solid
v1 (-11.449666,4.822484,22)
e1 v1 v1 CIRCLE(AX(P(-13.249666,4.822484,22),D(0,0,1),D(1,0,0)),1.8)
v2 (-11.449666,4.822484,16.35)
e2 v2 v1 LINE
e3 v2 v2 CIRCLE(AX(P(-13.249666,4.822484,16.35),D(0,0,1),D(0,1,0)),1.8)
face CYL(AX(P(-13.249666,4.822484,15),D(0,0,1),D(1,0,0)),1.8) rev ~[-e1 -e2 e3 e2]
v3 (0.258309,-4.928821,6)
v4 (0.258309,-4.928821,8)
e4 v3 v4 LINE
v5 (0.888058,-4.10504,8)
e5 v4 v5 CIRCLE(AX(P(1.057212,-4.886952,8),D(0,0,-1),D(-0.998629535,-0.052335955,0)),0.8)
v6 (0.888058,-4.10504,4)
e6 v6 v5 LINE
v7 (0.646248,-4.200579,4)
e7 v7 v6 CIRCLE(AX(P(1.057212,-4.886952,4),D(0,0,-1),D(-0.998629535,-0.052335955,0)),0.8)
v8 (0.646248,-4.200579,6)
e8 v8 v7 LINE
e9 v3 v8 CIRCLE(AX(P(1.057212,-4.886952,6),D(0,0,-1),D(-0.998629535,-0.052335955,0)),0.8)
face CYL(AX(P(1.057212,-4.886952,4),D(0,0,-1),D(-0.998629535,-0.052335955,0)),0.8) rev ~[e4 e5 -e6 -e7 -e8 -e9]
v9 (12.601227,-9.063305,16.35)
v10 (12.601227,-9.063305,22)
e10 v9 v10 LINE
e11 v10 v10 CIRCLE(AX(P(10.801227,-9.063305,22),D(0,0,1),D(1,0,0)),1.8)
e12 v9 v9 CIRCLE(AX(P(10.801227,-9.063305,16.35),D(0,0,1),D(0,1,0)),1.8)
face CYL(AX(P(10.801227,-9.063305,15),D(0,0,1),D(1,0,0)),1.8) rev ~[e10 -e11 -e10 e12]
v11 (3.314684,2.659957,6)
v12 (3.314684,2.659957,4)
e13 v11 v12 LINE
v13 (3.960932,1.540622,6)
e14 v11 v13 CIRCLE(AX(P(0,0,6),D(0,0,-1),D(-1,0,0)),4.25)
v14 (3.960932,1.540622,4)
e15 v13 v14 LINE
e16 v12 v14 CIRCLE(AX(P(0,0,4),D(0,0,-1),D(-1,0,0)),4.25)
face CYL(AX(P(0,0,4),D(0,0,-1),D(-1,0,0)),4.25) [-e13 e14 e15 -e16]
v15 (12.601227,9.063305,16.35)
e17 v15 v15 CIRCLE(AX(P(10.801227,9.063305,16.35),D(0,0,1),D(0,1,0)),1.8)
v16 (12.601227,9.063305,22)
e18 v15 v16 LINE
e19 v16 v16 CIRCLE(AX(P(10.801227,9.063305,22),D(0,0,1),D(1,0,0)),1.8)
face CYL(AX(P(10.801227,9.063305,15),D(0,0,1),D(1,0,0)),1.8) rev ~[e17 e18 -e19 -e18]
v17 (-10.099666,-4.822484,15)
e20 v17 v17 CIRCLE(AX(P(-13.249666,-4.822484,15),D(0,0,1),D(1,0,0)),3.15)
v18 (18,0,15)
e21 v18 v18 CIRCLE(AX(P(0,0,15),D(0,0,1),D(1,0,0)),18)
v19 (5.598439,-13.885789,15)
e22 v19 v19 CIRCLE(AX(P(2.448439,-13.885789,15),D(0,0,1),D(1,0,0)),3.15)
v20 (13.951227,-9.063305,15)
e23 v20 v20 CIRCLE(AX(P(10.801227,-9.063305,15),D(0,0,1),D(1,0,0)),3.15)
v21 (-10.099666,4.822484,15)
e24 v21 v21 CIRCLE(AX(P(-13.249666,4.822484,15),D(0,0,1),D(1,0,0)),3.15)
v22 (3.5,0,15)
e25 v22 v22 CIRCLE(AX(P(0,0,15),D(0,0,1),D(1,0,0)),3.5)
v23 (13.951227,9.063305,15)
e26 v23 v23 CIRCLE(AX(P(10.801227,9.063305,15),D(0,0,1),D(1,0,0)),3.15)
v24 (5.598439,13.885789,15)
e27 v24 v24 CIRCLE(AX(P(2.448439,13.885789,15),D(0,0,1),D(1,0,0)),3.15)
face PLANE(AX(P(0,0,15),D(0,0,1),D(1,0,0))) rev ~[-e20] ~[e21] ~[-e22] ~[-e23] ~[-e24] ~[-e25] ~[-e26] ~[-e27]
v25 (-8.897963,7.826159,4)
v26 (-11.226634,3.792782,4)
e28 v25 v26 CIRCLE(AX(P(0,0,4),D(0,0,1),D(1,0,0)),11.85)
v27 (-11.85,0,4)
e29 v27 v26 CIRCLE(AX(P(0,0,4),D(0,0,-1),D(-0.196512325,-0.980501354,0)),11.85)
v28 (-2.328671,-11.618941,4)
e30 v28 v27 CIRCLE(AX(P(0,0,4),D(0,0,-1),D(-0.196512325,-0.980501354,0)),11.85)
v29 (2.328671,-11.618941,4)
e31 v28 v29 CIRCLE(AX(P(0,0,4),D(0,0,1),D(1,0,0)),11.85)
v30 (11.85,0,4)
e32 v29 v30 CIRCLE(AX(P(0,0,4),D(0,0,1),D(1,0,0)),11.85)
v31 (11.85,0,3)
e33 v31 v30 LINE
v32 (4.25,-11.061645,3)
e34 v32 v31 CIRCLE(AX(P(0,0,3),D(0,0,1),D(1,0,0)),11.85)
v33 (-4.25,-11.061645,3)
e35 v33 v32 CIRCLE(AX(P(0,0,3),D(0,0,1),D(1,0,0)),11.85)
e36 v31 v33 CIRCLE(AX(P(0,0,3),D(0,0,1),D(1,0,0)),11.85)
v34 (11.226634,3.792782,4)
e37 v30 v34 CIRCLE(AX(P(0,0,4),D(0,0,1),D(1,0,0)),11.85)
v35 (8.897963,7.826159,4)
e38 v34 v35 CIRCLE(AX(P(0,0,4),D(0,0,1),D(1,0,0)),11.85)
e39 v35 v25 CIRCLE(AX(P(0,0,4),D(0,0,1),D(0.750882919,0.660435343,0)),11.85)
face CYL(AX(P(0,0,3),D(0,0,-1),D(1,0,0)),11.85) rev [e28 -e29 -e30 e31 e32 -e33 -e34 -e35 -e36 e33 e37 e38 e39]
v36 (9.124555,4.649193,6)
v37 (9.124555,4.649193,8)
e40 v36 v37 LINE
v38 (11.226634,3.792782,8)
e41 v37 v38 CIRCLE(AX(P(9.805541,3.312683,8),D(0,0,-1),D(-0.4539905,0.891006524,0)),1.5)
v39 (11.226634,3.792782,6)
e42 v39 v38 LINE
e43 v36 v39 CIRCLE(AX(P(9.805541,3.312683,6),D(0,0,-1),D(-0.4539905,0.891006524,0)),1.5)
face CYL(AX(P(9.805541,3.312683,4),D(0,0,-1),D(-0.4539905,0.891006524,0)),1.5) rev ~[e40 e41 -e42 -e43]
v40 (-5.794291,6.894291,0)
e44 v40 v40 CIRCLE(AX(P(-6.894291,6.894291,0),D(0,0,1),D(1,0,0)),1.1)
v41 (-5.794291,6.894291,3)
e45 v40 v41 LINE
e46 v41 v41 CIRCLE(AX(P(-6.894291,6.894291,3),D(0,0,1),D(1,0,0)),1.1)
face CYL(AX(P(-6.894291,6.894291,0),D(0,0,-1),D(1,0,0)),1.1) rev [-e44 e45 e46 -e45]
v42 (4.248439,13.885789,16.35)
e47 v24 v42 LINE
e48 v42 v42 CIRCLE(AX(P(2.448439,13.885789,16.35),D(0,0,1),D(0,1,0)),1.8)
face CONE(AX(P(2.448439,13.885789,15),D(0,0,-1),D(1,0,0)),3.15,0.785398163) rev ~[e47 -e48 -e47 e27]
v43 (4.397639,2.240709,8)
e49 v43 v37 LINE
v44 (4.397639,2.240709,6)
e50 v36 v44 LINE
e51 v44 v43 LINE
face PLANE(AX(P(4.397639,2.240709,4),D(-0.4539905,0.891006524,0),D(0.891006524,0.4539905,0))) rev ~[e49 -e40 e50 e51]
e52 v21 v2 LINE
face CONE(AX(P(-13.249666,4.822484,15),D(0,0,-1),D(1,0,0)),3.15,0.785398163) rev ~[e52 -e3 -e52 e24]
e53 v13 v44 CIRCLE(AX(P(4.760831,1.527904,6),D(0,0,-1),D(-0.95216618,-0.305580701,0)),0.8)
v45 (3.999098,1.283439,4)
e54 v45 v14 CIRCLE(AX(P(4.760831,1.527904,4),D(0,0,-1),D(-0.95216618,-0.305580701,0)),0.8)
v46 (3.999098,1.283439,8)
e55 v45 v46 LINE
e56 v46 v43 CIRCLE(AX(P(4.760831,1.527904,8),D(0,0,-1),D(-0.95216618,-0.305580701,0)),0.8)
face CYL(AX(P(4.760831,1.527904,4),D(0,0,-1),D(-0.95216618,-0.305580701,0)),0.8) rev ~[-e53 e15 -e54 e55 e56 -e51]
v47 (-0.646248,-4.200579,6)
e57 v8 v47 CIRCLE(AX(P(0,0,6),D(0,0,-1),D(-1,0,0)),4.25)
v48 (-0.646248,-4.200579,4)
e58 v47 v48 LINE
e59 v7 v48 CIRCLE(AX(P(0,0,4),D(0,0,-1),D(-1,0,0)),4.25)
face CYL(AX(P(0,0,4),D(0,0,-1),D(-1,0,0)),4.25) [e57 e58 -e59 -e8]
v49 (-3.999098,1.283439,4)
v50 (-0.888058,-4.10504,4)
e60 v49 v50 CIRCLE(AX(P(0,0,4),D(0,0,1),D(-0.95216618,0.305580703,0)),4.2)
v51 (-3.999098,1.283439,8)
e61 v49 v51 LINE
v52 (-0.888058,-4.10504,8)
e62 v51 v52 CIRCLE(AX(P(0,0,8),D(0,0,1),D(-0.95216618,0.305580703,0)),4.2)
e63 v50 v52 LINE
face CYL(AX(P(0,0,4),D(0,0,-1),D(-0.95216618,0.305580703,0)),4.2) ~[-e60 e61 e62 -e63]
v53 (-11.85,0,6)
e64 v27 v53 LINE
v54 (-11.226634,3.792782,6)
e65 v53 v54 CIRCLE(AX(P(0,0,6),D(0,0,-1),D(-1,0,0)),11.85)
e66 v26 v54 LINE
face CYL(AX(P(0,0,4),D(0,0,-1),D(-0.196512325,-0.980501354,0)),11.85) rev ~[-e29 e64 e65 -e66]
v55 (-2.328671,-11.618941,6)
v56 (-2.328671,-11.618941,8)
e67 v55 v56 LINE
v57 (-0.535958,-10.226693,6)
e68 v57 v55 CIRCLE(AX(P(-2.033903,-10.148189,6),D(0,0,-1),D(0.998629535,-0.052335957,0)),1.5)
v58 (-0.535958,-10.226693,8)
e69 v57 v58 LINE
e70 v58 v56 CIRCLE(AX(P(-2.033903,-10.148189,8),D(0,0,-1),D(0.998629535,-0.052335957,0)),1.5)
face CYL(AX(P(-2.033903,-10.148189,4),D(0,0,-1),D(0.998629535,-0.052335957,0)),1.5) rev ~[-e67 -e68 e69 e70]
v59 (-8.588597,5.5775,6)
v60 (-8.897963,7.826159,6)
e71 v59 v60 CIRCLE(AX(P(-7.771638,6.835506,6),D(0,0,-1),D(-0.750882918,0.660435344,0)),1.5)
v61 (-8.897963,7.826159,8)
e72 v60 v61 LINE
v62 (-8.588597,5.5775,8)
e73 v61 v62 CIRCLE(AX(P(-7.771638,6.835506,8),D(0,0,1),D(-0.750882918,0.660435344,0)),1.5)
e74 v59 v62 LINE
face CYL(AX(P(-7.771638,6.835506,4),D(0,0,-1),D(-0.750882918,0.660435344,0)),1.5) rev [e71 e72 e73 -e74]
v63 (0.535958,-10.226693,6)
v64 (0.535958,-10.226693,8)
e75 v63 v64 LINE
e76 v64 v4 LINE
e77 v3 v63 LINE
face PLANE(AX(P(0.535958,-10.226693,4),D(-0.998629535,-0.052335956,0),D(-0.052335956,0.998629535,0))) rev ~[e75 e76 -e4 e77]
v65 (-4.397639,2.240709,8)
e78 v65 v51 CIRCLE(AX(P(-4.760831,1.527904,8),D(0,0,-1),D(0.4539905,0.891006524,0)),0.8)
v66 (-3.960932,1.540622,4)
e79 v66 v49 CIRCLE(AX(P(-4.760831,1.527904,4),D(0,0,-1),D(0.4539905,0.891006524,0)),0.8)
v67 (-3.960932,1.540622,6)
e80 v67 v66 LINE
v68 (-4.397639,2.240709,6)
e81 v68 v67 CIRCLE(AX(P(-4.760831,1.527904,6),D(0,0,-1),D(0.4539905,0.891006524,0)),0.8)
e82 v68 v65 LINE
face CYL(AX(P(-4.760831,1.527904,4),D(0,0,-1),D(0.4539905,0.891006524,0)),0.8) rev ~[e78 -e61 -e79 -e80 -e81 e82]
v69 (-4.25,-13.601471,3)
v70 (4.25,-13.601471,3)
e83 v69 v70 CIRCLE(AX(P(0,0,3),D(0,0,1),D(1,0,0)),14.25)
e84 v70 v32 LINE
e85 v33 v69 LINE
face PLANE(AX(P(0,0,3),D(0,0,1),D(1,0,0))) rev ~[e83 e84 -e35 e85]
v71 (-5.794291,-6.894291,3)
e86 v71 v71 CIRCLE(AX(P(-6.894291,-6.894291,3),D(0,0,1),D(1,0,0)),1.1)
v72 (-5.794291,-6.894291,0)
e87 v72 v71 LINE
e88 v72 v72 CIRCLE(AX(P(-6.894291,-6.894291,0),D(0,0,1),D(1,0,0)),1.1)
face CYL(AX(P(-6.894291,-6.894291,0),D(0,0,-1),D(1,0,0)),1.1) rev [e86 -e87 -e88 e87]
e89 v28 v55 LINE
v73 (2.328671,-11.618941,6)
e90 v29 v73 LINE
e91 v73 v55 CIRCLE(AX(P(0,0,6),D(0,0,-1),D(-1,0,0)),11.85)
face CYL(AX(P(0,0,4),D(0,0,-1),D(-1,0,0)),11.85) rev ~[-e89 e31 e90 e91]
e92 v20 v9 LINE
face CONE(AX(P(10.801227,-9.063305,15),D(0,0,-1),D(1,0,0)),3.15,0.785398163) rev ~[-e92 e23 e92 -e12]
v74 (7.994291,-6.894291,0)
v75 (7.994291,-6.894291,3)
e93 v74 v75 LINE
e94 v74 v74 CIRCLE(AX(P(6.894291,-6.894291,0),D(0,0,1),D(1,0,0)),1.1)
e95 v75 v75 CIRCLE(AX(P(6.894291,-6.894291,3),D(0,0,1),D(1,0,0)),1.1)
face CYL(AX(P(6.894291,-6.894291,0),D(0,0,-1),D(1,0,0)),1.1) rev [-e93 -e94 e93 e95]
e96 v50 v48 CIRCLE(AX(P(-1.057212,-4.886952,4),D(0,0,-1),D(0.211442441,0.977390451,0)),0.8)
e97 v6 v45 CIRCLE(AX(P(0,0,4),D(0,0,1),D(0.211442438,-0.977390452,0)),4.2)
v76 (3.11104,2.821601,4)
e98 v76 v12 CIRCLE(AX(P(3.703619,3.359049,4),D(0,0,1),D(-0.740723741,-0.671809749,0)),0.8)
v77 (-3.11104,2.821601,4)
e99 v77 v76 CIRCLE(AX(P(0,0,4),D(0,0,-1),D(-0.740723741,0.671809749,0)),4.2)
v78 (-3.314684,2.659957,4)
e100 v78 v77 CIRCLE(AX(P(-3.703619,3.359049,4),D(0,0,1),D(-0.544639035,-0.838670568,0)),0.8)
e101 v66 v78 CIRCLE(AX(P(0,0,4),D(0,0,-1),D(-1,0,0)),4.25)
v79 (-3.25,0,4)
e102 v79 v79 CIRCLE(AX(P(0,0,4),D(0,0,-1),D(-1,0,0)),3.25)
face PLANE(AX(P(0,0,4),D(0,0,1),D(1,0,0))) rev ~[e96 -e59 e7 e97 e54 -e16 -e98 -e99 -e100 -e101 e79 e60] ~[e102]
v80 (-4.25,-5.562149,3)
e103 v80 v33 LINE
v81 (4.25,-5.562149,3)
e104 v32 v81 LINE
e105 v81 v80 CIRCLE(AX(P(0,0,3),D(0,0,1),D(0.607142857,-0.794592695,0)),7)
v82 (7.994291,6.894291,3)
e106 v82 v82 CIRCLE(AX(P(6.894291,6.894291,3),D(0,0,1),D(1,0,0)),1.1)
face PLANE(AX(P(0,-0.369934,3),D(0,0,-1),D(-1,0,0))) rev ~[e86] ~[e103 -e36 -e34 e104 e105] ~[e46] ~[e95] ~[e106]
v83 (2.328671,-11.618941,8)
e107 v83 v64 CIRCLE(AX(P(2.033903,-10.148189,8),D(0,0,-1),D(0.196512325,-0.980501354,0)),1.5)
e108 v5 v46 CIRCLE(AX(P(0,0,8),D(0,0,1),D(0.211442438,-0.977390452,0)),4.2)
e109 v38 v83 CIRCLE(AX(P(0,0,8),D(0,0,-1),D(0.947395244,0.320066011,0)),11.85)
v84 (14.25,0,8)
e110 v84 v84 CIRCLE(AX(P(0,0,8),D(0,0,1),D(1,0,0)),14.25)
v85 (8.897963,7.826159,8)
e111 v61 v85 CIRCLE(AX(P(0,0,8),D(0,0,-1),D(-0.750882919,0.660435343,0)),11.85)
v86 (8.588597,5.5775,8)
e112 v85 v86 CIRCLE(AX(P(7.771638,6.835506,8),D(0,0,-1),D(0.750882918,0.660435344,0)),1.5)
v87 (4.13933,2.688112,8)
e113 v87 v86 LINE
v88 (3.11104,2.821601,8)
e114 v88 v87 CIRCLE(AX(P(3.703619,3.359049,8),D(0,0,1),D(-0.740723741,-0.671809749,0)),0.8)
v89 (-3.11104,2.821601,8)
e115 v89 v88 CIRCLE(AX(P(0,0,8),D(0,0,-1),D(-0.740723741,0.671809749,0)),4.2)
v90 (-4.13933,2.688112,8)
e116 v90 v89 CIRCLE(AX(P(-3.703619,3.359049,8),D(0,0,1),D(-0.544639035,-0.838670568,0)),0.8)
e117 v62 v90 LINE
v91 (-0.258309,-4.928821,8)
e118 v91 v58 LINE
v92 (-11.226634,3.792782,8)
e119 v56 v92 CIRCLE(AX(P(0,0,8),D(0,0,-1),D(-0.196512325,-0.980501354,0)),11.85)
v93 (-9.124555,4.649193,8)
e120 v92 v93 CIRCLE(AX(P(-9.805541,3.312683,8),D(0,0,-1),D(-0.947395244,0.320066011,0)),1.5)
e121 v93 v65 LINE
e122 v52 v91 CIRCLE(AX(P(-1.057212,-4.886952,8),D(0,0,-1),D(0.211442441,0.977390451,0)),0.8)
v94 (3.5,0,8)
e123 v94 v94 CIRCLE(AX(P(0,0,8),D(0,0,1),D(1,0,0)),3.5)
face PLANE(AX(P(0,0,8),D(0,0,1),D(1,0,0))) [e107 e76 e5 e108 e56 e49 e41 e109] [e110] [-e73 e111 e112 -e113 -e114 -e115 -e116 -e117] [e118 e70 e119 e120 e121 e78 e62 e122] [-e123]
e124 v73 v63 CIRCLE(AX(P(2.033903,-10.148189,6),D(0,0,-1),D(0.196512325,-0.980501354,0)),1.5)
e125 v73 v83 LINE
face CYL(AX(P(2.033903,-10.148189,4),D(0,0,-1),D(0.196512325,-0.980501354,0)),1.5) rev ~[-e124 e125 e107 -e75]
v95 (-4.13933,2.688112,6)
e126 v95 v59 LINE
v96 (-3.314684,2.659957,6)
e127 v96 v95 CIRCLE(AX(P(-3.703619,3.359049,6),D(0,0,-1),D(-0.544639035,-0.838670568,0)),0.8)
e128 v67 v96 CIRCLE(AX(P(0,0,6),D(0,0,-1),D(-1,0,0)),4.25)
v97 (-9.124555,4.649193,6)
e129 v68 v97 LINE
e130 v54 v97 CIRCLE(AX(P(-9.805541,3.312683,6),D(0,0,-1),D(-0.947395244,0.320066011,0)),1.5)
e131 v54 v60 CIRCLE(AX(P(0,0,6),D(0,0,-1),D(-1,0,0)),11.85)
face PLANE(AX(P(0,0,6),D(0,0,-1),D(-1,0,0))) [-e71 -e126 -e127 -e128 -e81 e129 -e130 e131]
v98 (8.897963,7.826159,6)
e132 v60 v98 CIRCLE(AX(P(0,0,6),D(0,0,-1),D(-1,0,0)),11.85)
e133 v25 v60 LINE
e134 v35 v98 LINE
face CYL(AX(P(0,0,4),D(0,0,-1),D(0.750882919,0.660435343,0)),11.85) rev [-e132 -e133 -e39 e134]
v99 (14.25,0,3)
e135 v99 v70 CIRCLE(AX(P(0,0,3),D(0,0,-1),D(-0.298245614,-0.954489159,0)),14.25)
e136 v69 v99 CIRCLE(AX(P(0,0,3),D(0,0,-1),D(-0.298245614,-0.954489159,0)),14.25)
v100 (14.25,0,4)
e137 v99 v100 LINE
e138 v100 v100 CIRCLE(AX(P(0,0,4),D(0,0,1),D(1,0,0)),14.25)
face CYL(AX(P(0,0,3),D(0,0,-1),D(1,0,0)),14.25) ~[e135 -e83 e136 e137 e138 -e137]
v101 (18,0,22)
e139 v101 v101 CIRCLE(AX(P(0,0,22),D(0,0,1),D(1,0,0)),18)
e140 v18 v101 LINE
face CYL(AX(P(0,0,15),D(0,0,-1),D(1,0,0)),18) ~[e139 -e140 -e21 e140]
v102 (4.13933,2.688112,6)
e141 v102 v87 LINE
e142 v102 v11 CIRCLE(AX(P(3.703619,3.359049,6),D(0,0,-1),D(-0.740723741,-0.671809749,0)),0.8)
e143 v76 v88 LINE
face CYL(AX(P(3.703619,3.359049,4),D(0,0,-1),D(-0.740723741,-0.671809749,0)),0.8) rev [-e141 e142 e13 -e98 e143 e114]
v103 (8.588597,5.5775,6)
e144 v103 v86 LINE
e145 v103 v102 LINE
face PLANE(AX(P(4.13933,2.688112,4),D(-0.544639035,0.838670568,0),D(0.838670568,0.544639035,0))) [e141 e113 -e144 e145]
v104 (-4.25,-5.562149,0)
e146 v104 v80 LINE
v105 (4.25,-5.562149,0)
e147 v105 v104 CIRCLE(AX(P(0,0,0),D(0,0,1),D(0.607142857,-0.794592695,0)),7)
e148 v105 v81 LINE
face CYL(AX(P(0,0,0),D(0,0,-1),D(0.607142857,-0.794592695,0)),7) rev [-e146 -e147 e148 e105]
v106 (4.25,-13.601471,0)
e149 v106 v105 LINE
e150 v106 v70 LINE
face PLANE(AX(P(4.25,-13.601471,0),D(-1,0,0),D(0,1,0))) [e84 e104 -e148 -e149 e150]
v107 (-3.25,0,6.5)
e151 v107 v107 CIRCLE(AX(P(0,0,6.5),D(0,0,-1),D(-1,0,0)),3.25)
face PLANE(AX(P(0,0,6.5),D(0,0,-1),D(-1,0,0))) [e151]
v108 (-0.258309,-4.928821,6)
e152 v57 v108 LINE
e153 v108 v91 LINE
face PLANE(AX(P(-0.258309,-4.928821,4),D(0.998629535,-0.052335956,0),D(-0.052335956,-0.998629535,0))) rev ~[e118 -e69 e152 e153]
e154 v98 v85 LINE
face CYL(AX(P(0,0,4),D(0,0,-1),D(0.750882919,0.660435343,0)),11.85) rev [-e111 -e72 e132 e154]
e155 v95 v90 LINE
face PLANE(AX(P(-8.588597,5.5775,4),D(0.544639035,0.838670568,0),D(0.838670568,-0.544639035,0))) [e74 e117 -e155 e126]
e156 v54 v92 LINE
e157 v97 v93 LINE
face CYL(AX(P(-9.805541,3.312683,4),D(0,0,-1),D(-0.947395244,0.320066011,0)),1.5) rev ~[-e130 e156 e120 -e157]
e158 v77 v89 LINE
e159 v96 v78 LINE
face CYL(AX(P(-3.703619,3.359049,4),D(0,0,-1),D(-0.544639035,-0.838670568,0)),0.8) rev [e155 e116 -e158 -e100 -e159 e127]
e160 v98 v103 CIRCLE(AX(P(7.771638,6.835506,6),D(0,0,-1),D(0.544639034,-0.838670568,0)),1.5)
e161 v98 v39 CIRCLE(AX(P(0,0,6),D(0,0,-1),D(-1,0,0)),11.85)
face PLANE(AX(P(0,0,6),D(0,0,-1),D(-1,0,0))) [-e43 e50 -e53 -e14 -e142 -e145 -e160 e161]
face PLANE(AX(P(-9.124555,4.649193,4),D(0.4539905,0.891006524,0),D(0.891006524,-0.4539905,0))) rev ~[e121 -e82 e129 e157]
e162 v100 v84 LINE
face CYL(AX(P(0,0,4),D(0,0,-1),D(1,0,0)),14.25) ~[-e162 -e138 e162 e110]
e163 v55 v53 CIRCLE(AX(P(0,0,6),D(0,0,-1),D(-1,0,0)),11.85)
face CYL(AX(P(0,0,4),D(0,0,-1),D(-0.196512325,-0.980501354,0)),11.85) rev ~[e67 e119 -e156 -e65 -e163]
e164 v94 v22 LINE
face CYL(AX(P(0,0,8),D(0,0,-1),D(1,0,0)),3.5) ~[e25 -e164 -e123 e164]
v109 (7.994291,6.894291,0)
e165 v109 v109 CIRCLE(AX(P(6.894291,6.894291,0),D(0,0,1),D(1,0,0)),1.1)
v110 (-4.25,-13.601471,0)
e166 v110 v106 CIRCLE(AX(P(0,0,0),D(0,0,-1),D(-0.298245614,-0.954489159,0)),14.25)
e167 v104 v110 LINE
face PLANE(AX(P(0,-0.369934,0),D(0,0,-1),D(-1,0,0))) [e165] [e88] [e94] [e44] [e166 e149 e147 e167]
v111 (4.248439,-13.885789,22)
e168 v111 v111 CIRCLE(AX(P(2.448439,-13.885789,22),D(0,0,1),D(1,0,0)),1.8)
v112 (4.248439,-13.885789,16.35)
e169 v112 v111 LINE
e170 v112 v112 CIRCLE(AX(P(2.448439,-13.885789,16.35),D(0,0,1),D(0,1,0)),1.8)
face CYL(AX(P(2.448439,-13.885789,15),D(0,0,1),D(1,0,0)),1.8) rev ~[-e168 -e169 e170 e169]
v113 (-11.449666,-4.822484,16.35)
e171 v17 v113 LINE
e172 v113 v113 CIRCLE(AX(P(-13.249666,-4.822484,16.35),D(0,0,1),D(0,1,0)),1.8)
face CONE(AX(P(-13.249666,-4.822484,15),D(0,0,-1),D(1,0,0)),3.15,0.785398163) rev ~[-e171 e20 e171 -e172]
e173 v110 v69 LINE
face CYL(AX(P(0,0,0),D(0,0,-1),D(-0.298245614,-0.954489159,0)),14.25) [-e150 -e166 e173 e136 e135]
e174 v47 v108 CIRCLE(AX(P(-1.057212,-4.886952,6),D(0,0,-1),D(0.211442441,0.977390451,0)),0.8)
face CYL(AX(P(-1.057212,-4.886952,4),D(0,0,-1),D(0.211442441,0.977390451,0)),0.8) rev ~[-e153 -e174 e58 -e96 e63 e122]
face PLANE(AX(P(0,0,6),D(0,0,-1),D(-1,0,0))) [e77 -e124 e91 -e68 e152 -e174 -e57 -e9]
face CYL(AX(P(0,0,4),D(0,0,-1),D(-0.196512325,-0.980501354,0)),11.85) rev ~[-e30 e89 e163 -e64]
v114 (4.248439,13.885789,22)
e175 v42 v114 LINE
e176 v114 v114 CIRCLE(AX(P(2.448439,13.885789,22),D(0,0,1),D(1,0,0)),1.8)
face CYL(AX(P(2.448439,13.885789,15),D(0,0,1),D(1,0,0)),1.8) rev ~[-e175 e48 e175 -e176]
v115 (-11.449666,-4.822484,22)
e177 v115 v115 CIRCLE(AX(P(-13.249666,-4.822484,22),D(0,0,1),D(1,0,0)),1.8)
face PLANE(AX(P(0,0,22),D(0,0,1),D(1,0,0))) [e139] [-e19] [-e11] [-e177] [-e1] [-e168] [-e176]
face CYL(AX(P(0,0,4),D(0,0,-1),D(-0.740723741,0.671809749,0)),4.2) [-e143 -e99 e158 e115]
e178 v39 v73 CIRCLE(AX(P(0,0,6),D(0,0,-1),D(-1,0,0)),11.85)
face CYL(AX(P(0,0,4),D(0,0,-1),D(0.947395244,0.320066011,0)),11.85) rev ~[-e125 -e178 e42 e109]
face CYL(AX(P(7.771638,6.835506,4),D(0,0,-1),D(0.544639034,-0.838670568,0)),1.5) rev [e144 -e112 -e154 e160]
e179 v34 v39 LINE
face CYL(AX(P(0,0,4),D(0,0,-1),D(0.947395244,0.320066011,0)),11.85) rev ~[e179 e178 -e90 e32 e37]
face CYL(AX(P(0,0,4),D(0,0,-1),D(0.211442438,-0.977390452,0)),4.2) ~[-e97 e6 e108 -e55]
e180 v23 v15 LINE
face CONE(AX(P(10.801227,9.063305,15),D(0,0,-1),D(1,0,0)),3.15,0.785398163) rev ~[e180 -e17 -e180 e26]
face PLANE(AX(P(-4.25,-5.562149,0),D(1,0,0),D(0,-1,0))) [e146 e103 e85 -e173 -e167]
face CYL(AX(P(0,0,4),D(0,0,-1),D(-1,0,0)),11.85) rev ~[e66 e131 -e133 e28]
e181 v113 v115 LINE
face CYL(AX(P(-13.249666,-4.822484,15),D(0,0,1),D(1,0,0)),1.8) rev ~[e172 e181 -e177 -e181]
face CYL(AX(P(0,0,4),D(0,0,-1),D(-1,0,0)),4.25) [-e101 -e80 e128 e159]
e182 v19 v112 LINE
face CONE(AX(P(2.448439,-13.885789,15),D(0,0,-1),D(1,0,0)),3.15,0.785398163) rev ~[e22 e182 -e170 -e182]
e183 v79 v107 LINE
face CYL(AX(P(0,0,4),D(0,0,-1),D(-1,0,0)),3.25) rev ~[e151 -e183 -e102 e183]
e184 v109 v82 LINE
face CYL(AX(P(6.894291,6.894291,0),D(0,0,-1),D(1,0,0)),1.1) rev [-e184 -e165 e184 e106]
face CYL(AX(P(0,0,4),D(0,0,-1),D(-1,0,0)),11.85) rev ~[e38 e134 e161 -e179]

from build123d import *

# Parameters (mm, degrees)
SKETCH_1_R                   = 1.1
EXTRUDE_1_DEPTH              = 3
SKETCH_3_R                   = 14.25
SKETCH_3_R_2                 = 11.85
EXTRUDE_2_DEPTH              = 1
SKETCH_4_R                   = 14.25
EXTRUDE_3_DEPTH              = 4
SKETCH_5_R                   = 3.25
CUT_EXTRUDE_2_DEPTH          = 2.5
SKETCH_6_R                   = 3.5
EXTRUDE_4_DEPTH              = 7
SKETCH_10_R                  = 11.85
SKETCH_10_R_2                = 4.25
CUT_EXTRUDE_3_DEPTH          = 2
SKETCH_7_R                   = 18
SKETCH_7_R_2                 = 1.6
EXTRUDE_5_DEPTH              = 7
HOLE_WIZARD_M3_1_D           = 3.6
HOLE_WIZARD_M3_1_DEPTH       = 7
HOLE_WIZARD_M3_1_CSINK_D     = 6.3
HOLE_WIZARD_M3_1_CSINK_ANGLE = 90


with BuildPart() as part:
    # 스케치1 → 보스-돌출1 (new body)
    with BuildSketch(Plane.XY):
        with BuildLine():
            Line((-4.25, -5.562148865), (-4.25, -13.601470509))
            ThreePointArc((-4.25, -13.601470509), (0, 14.25), (4.25, -13.601470509))
            Line((4.25, -13.601470509), (4.25, -5.562148865))
            ThreePointArc((4.25, -5.562148865), (0, 7), (-4.25, -5.562148865))
        make_face()
        with Locations((6.894291117, 6.894291117)):
            Circle(SKETCH_1_R, mode=Mode.SUBTRACT)
        with Locations((6.894291117, -6.894291117)):
            Circle(SKETCH_1_R, mode=Mode.SUBTRACT)
        with Locations((-6.894291117, -6.894291117)):
            Circle(SKETCH_1_R, mode=Mode.SUBTRACT)
        with Locations((-6.894291117, 6.894291117)):
            Circle(SKETCH_1_R, mode=Mode.SUBTRACT)
    extrude(amount=EXTRUDE_1_DEPTH)

    # 스케치3 → 보스-돌출2 (add)
    with BuildSketch(Plane.XY.offset(3)):
        Circle(SKETCH_3_R)
        Circle(SKETCH_3_R_2, mode=Mode.SUBTRACT)
    extrude(amount=EXTRUDE_2_DEPTH)

    # 스케치4 → 보스-돌출3 (add)
    with BuildSketch(Plane.XY.offset(4)):
        Circle(SKETCH_4_R)
        with BuildLine():
            Line((-8.58859676, 5.577499951), (-4.139329935, 2.688112291))
            ThreePointArc((-4.139329935, 2.688112291), (-3.600629974, 2.565705616), (-3.111039714, 2.821600946))
            ThreePointArc((-3.111039714, 2.821600946), (0, 4.2), (3.111039714, 2.821600946))
            ThreePointArc((3.111039714, 2.821600946), (3.600629974, 2.565705616), (4.139329935, 2.688112291))
            Line((4.139329935, 2.688112291), (8.58859676, 5.577499951))
            ThreePointArc((8.58859676, 5.577499951), (9.257640836, 6.631064641), (8.897962585, 7.826158817))
            ThreePointArc((8.897962585, 7.826158817), (0, 11.85), (-8.897962585, 7.826158817))
            ThreePointArc((-8.897962585, 7.826158817), (-9.257640836, 6.631064641), (-8.58859676, 5.577499951))
        make_face(mode=Mode.SUBTRACT)
        with BuildLine():
            Line((0.535958267, -10.226692952), (0.258308564, -4.928821024))
            ThreePointArc((0.258308564, -4.928821024), (0.421651255, -4.401089835), (0.888058241, -4.105039897))
            ThreePointArc((0.888058241, -4.105039897), (3.637306696, -2.1), (3.999097955, 1.283438952))
            ThreePointArc((3.999097955, 1.283438952), (4.022281229, 1.835384219), (4.3976385, 2.240708733))
            Line((4.3976385, 2.240708733), (9.124555027, 4.649193001))
            ThreePointArc((9.124555027, 4.649193001), (10.371490851, 4.701819822), (11.226633642, 3.792782232))
            ThreePointArc((11.226633642, 3.792782232), (10.262401035, -5.925), (2.328671057, -11.618941049))
            ThreePointArc((2.328671057, -11.618941049), (1.113850016, -11.332884463), (0.535958267, -10.226692952))
        make_face(mode=Mode.SUBTRACT)
        with BuildLine():
            Line((-9.124555027, 4.649193001), (-4.3976385, 2.240708733))
            ThreePointArc((-4.3976385, 2.240708733), (-4.022281229, 1.835384219), (-3.999097955, 1.283438952))
            ThreePointArc((-3.999097955, 1.283438952), (-3.637306696, -2.1), (-0.888058241, -4.105039897))
            ThreePointArc((-0.888058241, -4.105039897), (-0.421651255, -4.401089835), (-0.258308564, -4.928821024))
            Line((-0.258308564, -4.928821024), (-0.535958267, -10.226692952))
            ThreePointArc((-0.535958267, -10.226692952), (-1.113850016, -11.332884463), (-2.328671057, -11.618941049))
            ThreePointArc((-2.328671057, -11.618941049), (-10.262401035, -5.925), (-11.226633642, 3.792782232))
            ThreePointArc((-11.226633642, 3.792782232), (-10.371490851, 4.701819822), (-9.124555027, 4.649193001))
        make_face(mode=Mode.SUBTRACT)
    extrude(amount=EXTRUDE_3_DEPTH)

    # 스케치5 → 컷-돌출2 (cut)
    with BuildSketch(Plane(origin=(0, 0, 4), x_dir=(-1, 0, 0), z_dir=(0, 0, -1))):
        Circle(SKETCH_5_R)
    extrude(amount=-CUT_EXTRUDE_2_DEPTH, mode=Mode.SUBTRACT)

    # 스케치6 → 보스-돌출4 (add)
    with BuildSketch(Plane.XY.offset(8)):
        Circle(SKETCH_6_R)
    extrude(amount=EXTRUDE_4_DEPTH)

    # 스케치10 → 컷-돌출3 (cut)
    with BuildSketch(Plane(origin=(0, 0, 4), x_dir=(-1, 0, 0), z_dir=(0, 0, -1))):
        Circle(SKETCH_10_R)
        Circle(SKETCH_10_R_2, mode=Mode.SUBTRACT)
    extrude(amount=-CUT_EXTRUDE_3_DEPTH, mode=Mode.SUBTRACT)

    # 스케치7 → 보스-돌출5 (add)
    with BuildSketch(Plane.XY.offset(15)):
        Circle(SKETCH_7_R)
        with Locations((-13.249665953, 4.822484021)):
            Circle(SKETCH_7_R_2, mode=Mode.SUBTRACT)
        with Locations((-13.249665953, -4.822484021)):
            Circle(SKETCH_7_R_2, mode=Mode.SUBTRACT)
        with Locations((10.801226648, 9.063305297)):
            Circle(SKETCH_7_R_2, mode=Mode.SUBTRACT)
        with Locations((2.448439305, 13.885789317)):
            Circle(SKETCH_7_R_2, mode=Mode.SUBTRACT)
        with Locations((2.448439305, -13.885789317)):
            Circle(SKETCH_7_R_2, mode=Mode.SUBTRACT)
        with Locations((10.801226648, -9.063305297)):
            Circle(SKETCH_7_R_2, mode=Mode.SUBTRACT)
    extrude(amount=EXTRUDE_5_DEPTH)

    # M3 접시 머리 나사용 카운터싱크1
    with Locations(Plane(origin=(2.448439305, 13.885789317, 15), x_dir=(-1, 0, 0), z_dir=(0, 0, -1))):
        with Locations((0, 0), (15.698105258, -9.063305296), (15.698105258, -18.708273338), (0, -27.771578634), (-8.352787343, -22.949094614), (-8.352787343, -4.82248402)):
            CounterSinkHole(HOLE_WIZARD_M3_1_D / 2, HOLE_WIZARD_M3_1_CSINK_D / 2, depth=HOLE_WIZARD_M3_1_DEPTH, counter_sink_angle=HOLE_WIZARD_M3_1_CSINK_ANGLE)


solid = part.part
